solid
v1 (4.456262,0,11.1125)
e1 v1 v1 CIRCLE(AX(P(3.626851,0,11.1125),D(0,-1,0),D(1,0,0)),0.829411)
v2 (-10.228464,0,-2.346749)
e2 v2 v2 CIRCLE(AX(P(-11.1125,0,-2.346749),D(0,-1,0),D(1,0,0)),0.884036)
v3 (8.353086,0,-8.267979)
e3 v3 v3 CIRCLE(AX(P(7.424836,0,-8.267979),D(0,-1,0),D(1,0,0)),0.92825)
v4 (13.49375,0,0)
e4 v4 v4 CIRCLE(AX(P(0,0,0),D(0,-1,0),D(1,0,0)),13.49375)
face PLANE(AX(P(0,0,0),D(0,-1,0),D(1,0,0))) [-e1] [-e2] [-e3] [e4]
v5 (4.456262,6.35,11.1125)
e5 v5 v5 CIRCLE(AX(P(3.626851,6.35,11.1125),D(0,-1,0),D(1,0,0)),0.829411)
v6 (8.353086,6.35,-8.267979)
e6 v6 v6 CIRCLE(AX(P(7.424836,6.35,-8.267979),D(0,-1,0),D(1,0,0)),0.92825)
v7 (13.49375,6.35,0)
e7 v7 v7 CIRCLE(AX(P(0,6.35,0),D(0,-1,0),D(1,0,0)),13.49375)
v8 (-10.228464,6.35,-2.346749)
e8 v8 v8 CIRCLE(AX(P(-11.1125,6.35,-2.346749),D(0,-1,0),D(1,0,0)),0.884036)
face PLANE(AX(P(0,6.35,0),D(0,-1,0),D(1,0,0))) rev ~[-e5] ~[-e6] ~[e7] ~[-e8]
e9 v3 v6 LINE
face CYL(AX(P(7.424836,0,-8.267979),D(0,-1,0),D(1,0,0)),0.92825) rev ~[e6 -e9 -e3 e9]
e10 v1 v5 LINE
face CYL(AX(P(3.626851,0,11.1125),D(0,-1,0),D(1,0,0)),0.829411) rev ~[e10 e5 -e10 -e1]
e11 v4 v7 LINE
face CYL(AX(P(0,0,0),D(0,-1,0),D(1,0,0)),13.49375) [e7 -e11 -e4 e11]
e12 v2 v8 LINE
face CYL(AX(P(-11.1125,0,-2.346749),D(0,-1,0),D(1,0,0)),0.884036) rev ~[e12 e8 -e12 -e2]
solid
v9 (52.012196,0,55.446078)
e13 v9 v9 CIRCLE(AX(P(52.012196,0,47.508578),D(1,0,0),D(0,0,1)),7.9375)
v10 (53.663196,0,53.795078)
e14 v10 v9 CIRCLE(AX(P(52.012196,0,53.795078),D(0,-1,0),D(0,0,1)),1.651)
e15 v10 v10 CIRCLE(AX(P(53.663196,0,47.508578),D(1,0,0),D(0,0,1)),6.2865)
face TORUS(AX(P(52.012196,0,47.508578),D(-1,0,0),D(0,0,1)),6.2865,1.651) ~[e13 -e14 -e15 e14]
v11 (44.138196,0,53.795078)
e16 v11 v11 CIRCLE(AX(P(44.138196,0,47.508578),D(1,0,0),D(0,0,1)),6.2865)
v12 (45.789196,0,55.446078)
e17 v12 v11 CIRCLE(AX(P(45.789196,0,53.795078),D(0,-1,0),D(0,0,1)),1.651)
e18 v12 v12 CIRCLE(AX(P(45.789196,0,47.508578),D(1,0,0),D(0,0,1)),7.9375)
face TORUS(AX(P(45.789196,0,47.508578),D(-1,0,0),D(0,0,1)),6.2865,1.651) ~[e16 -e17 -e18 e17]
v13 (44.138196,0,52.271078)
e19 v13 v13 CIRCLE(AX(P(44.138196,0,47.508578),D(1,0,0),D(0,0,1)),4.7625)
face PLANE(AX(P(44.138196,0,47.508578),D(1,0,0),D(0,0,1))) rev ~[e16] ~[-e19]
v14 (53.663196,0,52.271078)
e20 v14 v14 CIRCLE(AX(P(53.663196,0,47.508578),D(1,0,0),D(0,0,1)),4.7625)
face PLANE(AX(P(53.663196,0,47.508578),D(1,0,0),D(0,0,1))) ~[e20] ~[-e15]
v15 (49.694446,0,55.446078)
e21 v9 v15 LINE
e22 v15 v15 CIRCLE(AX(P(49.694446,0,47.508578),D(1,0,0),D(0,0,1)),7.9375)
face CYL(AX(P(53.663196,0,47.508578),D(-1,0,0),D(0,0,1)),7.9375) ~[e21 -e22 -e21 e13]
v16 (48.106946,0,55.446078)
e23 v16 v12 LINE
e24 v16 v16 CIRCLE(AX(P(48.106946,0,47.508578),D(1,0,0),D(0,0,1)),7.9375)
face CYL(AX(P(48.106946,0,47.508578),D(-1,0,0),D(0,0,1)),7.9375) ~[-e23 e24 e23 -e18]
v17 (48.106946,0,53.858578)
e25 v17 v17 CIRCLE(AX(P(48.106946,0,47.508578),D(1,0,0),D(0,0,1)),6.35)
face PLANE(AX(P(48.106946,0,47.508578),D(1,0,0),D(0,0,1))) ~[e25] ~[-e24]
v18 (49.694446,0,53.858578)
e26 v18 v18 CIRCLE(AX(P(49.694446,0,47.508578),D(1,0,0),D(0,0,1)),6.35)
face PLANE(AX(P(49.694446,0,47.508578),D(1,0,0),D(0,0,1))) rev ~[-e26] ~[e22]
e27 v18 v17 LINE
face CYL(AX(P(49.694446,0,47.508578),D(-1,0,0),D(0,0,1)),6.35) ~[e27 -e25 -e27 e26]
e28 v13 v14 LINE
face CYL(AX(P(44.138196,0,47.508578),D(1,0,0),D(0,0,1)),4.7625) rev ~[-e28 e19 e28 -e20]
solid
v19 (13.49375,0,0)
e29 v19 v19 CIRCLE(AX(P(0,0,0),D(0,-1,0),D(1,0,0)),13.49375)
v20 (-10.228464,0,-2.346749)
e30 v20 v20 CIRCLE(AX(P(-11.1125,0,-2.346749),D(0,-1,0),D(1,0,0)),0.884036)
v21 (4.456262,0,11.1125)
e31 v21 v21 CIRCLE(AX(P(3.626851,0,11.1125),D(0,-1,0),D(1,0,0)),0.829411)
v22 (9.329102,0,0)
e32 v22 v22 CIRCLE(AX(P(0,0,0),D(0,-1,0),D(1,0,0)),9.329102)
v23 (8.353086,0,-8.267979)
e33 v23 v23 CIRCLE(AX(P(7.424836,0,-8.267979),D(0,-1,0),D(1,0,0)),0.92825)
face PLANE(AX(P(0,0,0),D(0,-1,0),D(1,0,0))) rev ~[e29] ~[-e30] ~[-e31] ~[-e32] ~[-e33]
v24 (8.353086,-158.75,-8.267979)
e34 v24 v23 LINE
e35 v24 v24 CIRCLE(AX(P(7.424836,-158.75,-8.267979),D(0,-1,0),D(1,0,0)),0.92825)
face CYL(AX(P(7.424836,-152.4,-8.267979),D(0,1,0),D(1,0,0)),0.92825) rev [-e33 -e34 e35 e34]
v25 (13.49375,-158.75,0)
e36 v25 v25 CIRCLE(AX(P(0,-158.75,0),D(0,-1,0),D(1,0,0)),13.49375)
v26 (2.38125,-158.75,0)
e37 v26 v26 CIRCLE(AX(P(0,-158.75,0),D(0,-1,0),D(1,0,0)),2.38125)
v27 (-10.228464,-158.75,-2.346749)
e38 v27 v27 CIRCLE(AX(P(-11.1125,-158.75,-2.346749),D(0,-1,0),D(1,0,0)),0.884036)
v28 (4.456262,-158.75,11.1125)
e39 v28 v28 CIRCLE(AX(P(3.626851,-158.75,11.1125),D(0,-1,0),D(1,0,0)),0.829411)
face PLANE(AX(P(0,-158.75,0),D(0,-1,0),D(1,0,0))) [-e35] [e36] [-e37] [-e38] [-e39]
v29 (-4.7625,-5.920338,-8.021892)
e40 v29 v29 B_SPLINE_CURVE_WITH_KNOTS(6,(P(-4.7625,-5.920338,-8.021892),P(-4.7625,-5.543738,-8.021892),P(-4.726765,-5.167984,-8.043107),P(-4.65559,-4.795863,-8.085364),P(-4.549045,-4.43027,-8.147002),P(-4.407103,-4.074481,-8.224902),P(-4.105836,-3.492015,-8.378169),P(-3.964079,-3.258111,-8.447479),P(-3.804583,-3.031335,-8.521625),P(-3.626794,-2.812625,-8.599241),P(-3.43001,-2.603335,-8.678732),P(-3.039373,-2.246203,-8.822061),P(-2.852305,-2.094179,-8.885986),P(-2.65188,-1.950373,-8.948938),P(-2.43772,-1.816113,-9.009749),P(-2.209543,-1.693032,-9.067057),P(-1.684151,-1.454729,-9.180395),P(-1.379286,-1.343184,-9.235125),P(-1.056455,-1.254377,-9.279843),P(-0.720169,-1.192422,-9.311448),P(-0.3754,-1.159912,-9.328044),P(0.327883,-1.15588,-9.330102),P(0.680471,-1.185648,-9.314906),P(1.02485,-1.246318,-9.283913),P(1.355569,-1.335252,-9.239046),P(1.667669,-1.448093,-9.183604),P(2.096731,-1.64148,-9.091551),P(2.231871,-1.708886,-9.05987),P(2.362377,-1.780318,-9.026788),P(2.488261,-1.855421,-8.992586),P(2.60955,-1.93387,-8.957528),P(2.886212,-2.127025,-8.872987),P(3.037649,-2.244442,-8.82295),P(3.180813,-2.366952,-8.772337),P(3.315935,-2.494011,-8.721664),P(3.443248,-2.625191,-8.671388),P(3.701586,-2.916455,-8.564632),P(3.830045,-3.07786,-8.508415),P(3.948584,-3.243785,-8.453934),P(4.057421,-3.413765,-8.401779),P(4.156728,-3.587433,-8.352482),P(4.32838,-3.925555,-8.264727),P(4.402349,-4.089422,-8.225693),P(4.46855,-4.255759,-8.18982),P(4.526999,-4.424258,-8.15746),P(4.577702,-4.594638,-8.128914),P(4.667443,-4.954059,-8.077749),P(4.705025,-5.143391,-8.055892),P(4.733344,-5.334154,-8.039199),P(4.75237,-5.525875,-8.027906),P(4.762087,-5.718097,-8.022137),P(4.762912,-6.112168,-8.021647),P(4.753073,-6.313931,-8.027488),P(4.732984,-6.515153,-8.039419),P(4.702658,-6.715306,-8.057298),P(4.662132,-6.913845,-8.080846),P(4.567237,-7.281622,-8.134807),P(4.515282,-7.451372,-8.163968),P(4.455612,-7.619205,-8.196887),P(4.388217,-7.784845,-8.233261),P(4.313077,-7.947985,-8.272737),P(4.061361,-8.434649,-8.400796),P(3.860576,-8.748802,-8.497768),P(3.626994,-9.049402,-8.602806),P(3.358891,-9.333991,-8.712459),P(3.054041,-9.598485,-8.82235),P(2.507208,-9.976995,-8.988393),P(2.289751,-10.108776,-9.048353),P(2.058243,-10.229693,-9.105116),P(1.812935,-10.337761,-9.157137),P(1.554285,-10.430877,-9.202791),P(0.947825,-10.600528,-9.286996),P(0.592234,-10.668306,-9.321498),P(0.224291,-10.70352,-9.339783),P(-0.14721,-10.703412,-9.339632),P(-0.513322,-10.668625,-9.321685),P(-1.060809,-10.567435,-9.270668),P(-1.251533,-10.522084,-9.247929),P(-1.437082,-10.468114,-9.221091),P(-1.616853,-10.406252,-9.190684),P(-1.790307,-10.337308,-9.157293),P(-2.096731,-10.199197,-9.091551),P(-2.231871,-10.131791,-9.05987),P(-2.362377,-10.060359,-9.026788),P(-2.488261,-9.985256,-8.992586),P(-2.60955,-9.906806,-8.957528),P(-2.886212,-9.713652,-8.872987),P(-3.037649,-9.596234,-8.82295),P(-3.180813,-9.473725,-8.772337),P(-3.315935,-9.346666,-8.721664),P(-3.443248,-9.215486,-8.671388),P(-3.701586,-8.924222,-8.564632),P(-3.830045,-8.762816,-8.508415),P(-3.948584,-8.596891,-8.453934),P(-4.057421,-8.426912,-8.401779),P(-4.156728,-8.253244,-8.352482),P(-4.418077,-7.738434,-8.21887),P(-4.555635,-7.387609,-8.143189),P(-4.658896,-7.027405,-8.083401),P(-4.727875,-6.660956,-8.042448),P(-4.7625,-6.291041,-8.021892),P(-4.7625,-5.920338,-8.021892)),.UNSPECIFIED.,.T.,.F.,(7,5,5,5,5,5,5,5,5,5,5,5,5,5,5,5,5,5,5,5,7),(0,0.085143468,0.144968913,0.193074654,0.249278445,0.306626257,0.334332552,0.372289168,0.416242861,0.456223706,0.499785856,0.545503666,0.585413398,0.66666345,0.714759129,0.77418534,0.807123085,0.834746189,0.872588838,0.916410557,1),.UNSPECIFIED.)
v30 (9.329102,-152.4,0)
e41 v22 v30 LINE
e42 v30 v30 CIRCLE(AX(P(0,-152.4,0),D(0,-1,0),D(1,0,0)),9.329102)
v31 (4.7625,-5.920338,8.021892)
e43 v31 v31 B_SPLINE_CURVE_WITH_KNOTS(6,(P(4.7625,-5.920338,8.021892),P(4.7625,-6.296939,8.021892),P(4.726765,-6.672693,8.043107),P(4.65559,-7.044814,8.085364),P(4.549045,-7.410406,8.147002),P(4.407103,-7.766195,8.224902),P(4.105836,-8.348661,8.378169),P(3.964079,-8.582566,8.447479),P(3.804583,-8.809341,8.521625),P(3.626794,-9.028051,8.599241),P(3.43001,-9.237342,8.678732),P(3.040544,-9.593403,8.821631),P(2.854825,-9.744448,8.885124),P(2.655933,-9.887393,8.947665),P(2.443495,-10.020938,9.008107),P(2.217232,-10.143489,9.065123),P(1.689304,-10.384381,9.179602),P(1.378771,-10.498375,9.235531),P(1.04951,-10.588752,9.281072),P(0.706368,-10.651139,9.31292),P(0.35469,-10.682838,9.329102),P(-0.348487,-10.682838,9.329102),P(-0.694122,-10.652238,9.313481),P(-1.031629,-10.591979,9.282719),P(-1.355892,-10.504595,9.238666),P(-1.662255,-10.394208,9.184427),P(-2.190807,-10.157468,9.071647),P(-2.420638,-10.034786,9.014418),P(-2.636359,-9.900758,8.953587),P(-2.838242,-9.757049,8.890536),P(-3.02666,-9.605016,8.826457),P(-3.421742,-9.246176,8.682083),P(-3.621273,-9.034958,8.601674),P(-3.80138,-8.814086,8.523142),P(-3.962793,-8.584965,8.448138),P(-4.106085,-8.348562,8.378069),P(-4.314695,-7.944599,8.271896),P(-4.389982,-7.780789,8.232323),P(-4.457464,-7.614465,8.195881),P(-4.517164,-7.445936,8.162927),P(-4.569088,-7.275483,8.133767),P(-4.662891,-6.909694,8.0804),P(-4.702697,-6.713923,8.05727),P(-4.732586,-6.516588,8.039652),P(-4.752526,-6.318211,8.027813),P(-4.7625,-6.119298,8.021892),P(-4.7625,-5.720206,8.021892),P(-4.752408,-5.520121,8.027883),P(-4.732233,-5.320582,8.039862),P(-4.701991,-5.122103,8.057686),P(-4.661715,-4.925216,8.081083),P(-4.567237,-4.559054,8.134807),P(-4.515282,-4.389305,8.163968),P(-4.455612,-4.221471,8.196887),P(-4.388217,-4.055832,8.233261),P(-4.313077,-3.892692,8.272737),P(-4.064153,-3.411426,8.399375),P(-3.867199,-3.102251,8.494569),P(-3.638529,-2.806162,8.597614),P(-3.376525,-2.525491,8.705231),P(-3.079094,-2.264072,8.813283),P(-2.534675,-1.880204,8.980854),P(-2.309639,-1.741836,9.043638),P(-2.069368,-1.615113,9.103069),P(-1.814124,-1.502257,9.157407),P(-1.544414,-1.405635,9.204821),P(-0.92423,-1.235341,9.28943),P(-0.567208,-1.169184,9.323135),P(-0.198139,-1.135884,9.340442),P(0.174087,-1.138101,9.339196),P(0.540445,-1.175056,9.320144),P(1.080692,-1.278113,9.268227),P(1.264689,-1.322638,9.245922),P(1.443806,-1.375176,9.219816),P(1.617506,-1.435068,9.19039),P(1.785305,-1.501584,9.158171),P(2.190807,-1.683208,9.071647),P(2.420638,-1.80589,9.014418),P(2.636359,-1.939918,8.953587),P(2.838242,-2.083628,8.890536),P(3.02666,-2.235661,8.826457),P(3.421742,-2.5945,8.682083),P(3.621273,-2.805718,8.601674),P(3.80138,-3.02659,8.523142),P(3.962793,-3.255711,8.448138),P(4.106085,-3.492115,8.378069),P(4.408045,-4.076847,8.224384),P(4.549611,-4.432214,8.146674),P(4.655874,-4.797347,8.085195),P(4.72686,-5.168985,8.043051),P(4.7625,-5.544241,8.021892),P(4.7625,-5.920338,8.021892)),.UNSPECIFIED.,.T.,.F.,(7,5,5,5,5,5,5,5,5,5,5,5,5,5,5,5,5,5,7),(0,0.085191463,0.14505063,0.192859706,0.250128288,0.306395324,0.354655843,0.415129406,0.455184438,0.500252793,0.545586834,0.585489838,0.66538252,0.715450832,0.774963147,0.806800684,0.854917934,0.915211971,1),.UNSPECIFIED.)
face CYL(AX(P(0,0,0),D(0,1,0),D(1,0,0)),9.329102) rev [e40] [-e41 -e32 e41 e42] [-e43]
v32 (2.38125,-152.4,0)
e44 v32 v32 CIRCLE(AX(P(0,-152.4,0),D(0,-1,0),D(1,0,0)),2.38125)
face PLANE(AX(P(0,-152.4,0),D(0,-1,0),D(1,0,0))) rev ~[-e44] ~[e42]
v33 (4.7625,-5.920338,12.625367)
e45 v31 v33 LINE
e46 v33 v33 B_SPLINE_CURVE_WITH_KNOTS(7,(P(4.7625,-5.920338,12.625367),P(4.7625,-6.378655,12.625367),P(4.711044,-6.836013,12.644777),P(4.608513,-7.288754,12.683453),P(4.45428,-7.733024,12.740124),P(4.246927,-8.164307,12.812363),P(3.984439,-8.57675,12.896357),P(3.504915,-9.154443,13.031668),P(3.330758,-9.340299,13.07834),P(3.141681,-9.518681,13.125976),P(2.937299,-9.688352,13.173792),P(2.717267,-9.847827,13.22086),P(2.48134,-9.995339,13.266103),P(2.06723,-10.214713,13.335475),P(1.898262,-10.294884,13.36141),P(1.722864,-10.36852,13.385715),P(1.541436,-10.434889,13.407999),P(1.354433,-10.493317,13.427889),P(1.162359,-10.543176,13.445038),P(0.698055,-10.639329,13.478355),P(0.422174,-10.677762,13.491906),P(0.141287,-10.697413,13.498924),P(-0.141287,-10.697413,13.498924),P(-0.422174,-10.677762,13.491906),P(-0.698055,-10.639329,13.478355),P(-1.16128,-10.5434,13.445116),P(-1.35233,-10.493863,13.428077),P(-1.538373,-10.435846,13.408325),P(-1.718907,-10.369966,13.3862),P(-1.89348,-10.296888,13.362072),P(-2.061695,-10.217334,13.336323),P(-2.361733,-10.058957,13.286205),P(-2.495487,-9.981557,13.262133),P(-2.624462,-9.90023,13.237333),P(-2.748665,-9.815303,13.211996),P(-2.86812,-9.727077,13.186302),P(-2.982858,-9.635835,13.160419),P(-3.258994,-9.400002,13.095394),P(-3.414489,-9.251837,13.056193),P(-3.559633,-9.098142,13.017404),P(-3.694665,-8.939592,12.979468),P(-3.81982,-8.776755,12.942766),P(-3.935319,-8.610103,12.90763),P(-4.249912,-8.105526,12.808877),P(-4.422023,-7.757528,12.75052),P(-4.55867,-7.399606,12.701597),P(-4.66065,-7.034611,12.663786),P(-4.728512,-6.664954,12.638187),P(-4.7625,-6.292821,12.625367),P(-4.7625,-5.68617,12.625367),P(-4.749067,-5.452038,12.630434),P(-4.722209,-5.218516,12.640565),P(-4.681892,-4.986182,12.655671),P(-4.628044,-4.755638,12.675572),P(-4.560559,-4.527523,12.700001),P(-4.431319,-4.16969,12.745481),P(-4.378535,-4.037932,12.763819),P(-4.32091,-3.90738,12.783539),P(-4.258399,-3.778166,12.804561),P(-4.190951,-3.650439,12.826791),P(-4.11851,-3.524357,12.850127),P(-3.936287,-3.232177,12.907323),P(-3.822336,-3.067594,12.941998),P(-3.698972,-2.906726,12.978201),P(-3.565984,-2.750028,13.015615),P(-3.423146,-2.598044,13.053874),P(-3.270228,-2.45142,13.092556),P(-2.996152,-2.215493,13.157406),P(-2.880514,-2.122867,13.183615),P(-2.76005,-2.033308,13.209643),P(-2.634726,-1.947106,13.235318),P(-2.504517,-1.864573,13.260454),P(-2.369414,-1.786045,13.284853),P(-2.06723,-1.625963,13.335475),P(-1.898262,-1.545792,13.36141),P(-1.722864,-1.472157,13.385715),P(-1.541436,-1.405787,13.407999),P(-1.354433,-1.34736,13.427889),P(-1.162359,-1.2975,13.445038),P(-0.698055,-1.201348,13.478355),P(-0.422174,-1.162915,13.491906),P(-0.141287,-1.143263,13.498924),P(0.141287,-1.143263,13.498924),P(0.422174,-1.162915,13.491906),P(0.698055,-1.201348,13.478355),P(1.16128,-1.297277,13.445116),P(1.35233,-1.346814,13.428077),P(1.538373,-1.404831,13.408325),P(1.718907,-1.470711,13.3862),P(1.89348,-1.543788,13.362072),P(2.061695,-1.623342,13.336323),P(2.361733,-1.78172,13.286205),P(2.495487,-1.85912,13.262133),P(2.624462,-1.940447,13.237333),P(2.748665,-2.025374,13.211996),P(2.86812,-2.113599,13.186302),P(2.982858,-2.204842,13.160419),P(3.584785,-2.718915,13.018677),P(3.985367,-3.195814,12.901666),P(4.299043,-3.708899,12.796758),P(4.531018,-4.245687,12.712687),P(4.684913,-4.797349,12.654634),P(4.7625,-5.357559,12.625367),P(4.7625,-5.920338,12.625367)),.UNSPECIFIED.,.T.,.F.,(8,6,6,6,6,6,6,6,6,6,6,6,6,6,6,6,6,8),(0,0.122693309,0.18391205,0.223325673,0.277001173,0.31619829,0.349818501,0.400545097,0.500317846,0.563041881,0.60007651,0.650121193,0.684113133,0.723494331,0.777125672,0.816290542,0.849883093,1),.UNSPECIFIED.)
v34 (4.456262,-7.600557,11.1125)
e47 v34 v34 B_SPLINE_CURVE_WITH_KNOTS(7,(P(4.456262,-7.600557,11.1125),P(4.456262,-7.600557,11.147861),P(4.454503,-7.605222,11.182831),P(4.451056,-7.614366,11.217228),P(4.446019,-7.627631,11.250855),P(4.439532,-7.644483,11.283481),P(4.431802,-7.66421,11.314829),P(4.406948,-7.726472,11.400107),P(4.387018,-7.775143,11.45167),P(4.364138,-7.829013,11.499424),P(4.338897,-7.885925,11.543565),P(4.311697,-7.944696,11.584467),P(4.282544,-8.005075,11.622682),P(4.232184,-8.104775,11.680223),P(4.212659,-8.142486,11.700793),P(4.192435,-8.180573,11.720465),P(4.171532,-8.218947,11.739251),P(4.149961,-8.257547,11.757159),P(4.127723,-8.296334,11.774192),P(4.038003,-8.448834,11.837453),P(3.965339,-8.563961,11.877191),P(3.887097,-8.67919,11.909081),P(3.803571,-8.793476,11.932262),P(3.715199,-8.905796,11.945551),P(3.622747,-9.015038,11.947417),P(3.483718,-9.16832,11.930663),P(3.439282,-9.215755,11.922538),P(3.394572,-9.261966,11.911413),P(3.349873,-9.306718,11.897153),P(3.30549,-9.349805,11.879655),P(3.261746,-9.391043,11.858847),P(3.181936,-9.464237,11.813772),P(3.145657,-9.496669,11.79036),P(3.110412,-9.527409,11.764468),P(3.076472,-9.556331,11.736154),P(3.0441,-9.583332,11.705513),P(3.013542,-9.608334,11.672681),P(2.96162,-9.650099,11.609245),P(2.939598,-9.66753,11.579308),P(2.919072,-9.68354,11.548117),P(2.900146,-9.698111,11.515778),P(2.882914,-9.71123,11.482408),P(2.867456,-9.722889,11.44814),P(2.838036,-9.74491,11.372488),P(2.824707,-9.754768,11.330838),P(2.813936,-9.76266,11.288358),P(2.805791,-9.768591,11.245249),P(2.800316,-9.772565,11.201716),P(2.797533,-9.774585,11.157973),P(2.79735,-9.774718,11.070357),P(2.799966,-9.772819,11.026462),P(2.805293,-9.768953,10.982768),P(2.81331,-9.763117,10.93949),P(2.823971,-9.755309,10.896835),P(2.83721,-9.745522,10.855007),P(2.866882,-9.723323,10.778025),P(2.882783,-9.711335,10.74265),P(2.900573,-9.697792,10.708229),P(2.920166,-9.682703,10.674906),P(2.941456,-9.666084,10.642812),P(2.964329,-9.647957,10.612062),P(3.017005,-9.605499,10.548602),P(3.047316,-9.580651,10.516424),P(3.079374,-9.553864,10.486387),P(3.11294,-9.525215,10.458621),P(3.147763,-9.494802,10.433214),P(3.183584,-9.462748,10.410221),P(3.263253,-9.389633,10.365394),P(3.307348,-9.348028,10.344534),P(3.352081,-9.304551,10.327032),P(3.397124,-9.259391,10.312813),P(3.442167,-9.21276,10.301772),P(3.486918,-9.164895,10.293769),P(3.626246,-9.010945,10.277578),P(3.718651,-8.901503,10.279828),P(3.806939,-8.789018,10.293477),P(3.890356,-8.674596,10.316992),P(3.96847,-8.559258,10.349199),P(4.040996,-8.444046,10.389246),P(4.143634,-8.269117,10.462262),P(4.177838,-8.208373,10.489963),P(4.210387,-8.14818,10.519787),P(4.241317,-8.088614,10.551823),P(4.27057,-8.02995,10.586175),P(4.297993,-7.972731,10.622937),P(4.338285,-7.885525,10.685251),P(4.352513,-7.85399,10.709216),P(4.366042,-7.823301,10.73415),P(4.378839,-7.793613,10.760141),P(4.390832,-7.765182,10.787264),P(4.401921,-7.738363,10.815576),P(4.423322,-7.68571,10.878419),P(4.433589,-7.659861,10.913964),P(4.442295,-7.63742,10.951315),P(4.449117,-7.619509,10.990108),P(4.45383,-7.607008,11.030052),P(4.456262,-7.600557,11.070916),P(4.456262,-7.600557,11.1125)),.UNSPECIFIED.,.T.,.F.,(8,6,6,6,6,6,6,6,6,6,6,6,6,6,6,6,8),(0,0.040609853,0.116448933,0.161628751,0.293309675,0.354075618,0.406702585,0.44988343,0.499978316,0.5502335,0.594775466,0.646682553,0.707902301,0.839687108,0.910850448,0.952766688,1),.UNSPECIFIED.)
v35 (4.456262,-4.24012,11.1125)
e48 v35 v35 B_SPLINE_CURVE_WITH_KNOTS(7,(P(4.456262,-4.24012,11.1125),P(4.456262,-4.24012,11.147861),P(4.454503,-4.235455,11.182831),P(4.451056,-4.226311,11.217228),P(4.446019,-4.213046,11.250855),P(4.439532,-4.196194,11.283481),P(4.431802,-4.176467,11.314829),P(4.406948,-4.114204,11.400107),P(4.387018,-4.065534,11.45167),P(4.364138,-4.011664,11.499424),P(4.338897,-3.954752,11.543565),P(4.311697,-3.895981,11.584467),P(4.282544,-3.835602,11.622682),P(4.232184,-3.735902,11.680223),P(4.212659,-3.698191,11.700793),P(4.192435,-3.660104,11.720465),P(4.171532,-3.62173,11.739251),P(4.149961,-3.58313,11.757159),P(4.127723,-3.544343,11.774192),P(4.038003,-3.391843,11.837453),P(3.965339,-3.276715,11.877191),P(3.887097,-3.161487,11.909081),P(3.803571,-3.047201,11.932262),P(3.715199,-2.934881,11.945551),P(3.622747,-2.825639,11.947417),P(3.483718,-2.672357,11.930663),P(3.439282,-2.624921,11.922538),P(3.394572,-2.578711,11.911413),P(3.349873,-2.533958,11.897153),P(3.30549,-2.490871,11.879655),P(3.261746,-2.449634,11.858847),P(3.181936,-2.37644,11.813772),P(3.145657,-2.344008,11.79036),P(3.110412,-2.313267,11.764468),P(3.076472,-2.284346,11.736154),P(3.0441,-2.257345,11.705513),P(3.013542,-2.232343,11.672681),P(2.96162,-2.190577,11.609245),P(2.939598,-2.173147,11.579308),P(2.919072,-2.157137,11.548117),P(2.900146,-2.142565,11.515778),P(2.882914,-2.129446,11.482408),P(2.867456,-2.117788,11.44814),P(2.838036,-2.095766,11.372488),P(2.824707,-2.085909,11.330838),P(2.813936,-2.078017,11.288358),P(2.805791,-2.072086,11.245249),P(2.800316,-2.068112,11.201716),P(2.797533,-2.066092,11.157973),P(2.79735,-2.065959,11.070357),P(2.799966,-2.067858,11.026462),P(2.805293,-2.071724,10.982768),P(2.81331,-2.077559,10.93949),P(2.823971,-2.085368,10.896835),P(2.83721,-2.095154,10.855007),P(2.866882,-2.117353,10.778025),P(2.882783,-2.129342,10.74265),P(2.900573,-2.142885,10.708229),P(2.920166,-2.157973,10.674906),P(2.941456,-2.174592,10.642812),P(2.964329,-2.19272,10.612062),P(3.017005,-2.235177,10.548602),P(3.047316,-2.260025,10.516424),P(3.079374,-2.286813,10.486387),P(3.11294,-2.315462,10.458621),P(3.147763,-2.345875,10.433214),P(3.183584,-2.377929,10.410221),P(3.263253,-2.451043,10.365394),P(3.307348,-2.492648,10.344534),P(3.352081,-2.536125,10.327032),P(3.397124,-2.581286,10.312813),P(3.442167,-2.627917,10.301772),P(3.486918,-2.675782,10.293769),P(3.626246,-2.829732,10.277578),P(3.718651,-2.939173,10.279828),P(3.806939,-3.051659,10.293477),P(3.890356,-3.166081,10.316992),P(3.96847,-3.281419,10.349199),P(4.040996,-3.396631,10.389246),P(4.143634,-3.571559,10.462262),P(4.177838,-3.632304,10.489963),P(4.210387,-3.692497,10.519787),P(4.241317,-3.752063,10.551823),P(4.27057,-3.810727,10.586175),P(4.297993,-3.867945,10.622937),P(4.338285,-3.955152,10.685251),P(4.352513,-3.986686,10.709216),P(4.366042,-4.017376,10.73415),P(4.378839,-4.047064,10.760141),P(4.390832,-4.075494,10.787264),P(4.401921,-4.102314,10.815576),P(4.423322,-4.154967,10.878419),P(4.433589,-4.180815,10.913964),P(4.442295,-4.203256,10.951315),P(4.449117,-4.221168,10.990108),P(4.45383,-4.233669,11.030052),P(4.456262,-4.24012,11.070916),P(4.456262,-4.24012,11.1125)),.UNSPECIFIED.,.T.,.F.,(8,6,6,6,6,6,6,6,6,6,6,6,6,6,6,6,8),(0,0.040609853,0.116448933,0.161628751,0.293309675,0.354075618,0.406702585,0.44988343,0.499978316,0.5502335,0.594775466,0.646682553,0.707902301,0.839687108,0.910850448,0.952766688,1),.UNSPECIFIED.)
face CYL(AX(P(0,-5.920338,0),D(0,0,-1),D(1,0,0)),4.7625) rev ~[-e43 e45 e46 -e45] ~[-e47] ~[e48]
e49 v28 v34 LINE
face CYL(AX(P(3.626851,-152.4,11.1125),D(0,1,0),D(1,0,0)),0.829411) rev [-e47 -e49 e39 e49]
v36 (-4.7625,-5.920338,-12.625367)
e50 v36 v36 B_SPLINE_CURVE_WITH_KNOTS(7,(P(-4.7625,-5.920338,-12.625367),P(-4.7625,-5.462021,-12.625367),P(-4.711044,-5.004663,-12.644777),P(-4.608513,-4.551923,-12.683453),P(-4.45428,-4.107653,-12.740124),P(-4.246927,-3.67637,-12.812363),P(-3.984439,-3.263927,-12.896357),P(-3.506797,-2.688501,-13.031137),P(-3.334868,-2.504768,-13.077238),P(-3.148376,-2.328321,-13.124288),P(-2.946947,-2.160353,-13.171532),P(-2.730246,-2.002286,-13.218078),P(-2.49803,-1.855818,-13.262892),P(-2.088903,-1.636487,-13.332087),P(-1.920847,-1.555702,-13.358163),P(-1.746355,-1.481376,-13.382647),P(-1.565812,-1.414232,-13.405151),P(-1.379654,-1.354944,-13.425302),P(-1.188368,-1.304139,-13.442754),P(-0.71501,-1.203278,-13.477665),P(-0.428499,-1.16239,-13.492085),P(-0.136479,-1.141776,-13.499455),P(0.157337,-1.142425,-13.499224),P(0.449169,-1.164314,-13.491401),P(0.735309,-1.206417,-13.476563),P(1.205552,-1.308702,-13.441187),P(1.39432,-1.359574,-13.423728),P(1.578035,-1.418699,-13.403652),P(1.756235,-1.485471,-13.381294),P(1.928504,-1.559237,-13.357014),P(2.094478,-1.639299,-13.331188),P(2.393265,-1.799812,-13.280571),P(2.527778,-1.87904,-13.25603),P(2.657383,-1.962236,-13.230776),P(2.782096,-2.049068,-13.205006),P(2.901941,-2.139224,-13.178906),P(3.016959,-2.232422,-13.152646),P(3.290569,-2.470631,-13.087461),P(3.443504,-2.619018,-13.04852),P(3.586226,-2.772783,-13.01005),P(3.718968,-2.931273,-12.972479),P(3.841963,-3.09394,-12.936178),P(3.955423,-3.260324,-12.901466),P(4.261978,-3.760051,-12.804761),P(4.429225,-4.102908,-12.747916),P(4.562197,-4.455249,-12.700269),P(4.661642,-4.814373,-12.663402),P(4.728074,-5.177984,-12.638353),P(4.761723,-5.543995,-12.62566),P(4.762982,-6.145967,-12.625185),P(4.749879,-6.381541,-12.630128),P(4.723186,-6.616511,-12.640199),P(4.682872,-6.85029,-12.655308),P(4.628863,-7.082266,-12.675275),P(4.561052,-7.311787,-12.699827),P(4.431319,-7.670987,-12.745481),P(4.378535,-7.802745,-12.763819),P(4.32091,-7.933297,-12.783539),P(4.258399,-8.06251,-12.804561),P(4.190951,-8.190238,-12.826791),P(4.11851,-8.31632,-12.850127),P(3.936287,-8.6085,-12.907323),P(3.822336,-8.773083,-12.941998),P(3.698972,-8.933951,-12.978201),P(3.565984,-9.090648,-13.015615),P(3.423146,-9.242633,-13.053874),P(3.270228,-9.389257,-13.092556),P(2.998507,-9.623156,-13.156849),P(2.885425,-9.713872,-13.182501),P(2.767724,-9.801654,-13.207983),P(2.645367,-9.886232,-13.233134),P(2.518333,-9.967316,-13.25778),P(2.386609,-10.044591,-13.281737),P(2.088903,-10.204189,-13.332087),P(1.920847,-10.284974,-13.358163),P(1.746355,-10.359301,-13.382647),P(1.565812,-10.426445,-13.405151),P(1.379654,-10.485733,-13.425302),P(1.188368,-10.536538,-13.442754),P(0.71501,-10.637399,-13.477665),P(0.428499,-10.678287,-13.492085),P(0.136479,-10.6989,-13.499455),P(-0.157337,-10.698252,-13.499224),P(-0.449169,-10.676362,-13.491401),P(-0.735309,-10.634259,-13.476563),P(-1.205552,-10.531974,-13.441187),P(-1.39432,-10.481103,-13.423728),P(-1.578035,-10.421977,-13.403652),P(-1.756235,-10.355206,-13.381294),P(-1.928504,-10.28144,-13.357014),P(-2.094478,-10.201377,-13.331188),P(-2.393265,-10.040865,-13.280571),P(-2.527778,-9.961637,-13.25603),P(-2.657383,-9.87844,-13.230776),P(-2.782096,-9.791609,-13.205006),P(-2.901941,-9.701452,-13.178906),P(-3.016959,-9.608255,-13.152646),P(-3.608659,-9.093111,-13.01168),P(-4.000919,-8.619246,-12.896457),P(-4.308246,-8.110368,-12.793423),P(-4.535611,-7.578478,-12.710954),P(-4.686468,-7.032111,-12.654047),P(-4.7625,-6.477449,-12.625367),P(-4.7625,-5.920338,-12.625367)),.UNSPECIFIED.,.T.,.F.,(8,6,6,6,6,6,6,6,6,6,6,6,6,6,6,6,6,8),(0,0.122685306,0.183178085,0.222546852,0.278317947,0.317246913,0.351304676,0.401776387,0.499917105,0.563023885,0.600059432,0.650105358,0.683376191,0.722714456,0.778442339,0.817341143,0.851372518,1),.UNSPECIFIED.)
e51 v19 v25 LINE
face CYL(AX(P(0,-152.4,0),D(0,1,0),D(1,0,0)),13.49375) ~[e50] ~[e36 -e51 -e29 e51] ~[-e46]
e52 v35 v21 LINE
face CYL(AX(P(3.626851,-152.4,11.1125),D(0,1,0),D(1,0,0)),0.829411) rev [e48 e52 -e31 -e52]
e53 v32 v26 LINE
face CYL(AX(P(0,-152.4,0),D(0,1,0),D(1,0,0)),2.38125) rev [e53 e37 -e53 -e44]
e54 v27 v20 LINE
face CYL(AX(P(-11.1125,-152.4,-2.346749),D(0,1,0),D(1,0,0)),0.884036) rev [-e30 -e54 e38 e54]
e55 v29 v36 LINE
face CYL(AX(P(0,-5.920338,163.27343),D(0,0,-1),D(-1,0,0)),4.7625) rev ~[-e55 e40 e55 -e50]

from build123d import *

# Parameters (mm, degrees)
F0_R     = 13.49375
F0_R_2   = 0.8840363217
F0_R_3   = 0.9282502006
F0_R_4   = 9.3291025
F0_R_5   = 0.8294111598
F1_DEPTH = 152.4
F2_DEPTH = 6.35
F3_R     = 13.49375
F3_R_2   = 0.8840363217
F3_R_3   = 0.9282502006
F3_R_4   = 9.3291025
F3_R_5   = 0.8294111598
F3_R_6   = 2.38125
F4_DEPTH = 6.35
F7_R     = 1.651
F9_D     = 9.525
F9_DEPTH = 13.49475
F10_D    = 9.525


with BuildPart() as f1:
    # F0 (on Front) → F1 (new body)
    with BuildSketch(Plane.XZ):
        Circle(F0_R)
        with Locations((-11.1125, -2.3467487006)):
            Circle(F0_R_2, mode=Mode.SUBTRACT)
        with Locations((7.4248356606, -8.2679786928)):
            Circle(F0_R_3, mode=Mode.SUBTRACT)
        Circle(F0_R_4, mode=Mode.SUBTRACT)
        with Locations((3.6268509209, 11.1125)):
            Circle(F0_R_5, mode=Mode.SUBTRACT)
    extrude(amount=F1_DEPTH)

    # F3 (on face) → F4 (join)
    with BuildSketch(Plane.XZ.offset(152.4)):
        Circle(F3_R)
        with Locations((-11.1125, -2.3467487006)):
            Circle(F3_R_2, mode=Mode.SUBTRACT)
        with Locations((7.4248356606, -8.2679786928)):
            Circle(F3_R_3, mode=Mode.SUBTRACT)
        Circle(F3_R_4, mode=Mode.SUBTRACT)
        with Locations((3.6268509209, 11.1125)):
            Circle(F3_R_5, mode=Mode.SUBTRACT)
        Circle(F3_R_4)
        Circle(F3_R_6, mode=Mode.SUBTRACT)
    extrude(amount=F4_DEPTH)

    # F9 (through all, one way)
    with BuildSketch(Plane(origin=(0, 0, 0), x_dir=(1, 0, 0), z_dir=(0, 0, -1))):
        with Locations((0, 5.9203383362)):
            Circle(F9_D / 2)
    extrude(amount=-F9_DEPTH, mode=Mode.SUBTRACT)

    # F10 (through all)
    with Locations(Plane.XY):
        with Locations((0, -5.9203383362)):
            Hole(F10_D / 2)


with BuildPart() as f2:
    # F0 (on Front) → F2 (new body)
    with BuildSketch(Plane.XZ):
        Circle(F0_R)
        with Locations((-11.1125, -2.3467487006)):
            Circle(F0_R_2, mode=Mode.SUBTRACT)
        with Locations((7.4248356606, -8.2679786928)):
            Circle(F0_R_3, mode=Mode.SUBTRACT)
        Circle(F0_R_4, mode=Mode.SUBTRACT)
        with Locations((3.6268509209, 11.1125)):
            Circle(F0_R_5, mode=Mode.SUBTRACT)
        Circle(F0_R_4)
    extrude(amount=-F2_DEPTH)


with BuildPart() as f6:
    # F5 (on Front) → F6 (revolve)
    with BuildSketch(Plane.XZ):
        Polygon((44.1381960511, 52.2710782051), (53.6631960511, 52.2710782051), (53.6631960511, 55.4460782051), (49.6944460511, 55.4460782051), (49.6944460511, 53.8585782051), (48.1069460511, 53.8585782051), (48.1069460511, 55.4460782051), (44.1381960511, 55.4460782051), align=None)
    revolve(axis=Axis((57.510222998, 0, 47.5085782051), (1, 0, 0)))

    # F7
    f7_edges = [f6.edges().sort_by_distance(p)[0] for p in [
        (44.138196, 0, 39.571078),
        (53.663196, 0, 39.571078),
    ]]
    fillet(f7_edges, radius=F7_R)


solid = Compound([f1.part, f2.part, f6.part])
